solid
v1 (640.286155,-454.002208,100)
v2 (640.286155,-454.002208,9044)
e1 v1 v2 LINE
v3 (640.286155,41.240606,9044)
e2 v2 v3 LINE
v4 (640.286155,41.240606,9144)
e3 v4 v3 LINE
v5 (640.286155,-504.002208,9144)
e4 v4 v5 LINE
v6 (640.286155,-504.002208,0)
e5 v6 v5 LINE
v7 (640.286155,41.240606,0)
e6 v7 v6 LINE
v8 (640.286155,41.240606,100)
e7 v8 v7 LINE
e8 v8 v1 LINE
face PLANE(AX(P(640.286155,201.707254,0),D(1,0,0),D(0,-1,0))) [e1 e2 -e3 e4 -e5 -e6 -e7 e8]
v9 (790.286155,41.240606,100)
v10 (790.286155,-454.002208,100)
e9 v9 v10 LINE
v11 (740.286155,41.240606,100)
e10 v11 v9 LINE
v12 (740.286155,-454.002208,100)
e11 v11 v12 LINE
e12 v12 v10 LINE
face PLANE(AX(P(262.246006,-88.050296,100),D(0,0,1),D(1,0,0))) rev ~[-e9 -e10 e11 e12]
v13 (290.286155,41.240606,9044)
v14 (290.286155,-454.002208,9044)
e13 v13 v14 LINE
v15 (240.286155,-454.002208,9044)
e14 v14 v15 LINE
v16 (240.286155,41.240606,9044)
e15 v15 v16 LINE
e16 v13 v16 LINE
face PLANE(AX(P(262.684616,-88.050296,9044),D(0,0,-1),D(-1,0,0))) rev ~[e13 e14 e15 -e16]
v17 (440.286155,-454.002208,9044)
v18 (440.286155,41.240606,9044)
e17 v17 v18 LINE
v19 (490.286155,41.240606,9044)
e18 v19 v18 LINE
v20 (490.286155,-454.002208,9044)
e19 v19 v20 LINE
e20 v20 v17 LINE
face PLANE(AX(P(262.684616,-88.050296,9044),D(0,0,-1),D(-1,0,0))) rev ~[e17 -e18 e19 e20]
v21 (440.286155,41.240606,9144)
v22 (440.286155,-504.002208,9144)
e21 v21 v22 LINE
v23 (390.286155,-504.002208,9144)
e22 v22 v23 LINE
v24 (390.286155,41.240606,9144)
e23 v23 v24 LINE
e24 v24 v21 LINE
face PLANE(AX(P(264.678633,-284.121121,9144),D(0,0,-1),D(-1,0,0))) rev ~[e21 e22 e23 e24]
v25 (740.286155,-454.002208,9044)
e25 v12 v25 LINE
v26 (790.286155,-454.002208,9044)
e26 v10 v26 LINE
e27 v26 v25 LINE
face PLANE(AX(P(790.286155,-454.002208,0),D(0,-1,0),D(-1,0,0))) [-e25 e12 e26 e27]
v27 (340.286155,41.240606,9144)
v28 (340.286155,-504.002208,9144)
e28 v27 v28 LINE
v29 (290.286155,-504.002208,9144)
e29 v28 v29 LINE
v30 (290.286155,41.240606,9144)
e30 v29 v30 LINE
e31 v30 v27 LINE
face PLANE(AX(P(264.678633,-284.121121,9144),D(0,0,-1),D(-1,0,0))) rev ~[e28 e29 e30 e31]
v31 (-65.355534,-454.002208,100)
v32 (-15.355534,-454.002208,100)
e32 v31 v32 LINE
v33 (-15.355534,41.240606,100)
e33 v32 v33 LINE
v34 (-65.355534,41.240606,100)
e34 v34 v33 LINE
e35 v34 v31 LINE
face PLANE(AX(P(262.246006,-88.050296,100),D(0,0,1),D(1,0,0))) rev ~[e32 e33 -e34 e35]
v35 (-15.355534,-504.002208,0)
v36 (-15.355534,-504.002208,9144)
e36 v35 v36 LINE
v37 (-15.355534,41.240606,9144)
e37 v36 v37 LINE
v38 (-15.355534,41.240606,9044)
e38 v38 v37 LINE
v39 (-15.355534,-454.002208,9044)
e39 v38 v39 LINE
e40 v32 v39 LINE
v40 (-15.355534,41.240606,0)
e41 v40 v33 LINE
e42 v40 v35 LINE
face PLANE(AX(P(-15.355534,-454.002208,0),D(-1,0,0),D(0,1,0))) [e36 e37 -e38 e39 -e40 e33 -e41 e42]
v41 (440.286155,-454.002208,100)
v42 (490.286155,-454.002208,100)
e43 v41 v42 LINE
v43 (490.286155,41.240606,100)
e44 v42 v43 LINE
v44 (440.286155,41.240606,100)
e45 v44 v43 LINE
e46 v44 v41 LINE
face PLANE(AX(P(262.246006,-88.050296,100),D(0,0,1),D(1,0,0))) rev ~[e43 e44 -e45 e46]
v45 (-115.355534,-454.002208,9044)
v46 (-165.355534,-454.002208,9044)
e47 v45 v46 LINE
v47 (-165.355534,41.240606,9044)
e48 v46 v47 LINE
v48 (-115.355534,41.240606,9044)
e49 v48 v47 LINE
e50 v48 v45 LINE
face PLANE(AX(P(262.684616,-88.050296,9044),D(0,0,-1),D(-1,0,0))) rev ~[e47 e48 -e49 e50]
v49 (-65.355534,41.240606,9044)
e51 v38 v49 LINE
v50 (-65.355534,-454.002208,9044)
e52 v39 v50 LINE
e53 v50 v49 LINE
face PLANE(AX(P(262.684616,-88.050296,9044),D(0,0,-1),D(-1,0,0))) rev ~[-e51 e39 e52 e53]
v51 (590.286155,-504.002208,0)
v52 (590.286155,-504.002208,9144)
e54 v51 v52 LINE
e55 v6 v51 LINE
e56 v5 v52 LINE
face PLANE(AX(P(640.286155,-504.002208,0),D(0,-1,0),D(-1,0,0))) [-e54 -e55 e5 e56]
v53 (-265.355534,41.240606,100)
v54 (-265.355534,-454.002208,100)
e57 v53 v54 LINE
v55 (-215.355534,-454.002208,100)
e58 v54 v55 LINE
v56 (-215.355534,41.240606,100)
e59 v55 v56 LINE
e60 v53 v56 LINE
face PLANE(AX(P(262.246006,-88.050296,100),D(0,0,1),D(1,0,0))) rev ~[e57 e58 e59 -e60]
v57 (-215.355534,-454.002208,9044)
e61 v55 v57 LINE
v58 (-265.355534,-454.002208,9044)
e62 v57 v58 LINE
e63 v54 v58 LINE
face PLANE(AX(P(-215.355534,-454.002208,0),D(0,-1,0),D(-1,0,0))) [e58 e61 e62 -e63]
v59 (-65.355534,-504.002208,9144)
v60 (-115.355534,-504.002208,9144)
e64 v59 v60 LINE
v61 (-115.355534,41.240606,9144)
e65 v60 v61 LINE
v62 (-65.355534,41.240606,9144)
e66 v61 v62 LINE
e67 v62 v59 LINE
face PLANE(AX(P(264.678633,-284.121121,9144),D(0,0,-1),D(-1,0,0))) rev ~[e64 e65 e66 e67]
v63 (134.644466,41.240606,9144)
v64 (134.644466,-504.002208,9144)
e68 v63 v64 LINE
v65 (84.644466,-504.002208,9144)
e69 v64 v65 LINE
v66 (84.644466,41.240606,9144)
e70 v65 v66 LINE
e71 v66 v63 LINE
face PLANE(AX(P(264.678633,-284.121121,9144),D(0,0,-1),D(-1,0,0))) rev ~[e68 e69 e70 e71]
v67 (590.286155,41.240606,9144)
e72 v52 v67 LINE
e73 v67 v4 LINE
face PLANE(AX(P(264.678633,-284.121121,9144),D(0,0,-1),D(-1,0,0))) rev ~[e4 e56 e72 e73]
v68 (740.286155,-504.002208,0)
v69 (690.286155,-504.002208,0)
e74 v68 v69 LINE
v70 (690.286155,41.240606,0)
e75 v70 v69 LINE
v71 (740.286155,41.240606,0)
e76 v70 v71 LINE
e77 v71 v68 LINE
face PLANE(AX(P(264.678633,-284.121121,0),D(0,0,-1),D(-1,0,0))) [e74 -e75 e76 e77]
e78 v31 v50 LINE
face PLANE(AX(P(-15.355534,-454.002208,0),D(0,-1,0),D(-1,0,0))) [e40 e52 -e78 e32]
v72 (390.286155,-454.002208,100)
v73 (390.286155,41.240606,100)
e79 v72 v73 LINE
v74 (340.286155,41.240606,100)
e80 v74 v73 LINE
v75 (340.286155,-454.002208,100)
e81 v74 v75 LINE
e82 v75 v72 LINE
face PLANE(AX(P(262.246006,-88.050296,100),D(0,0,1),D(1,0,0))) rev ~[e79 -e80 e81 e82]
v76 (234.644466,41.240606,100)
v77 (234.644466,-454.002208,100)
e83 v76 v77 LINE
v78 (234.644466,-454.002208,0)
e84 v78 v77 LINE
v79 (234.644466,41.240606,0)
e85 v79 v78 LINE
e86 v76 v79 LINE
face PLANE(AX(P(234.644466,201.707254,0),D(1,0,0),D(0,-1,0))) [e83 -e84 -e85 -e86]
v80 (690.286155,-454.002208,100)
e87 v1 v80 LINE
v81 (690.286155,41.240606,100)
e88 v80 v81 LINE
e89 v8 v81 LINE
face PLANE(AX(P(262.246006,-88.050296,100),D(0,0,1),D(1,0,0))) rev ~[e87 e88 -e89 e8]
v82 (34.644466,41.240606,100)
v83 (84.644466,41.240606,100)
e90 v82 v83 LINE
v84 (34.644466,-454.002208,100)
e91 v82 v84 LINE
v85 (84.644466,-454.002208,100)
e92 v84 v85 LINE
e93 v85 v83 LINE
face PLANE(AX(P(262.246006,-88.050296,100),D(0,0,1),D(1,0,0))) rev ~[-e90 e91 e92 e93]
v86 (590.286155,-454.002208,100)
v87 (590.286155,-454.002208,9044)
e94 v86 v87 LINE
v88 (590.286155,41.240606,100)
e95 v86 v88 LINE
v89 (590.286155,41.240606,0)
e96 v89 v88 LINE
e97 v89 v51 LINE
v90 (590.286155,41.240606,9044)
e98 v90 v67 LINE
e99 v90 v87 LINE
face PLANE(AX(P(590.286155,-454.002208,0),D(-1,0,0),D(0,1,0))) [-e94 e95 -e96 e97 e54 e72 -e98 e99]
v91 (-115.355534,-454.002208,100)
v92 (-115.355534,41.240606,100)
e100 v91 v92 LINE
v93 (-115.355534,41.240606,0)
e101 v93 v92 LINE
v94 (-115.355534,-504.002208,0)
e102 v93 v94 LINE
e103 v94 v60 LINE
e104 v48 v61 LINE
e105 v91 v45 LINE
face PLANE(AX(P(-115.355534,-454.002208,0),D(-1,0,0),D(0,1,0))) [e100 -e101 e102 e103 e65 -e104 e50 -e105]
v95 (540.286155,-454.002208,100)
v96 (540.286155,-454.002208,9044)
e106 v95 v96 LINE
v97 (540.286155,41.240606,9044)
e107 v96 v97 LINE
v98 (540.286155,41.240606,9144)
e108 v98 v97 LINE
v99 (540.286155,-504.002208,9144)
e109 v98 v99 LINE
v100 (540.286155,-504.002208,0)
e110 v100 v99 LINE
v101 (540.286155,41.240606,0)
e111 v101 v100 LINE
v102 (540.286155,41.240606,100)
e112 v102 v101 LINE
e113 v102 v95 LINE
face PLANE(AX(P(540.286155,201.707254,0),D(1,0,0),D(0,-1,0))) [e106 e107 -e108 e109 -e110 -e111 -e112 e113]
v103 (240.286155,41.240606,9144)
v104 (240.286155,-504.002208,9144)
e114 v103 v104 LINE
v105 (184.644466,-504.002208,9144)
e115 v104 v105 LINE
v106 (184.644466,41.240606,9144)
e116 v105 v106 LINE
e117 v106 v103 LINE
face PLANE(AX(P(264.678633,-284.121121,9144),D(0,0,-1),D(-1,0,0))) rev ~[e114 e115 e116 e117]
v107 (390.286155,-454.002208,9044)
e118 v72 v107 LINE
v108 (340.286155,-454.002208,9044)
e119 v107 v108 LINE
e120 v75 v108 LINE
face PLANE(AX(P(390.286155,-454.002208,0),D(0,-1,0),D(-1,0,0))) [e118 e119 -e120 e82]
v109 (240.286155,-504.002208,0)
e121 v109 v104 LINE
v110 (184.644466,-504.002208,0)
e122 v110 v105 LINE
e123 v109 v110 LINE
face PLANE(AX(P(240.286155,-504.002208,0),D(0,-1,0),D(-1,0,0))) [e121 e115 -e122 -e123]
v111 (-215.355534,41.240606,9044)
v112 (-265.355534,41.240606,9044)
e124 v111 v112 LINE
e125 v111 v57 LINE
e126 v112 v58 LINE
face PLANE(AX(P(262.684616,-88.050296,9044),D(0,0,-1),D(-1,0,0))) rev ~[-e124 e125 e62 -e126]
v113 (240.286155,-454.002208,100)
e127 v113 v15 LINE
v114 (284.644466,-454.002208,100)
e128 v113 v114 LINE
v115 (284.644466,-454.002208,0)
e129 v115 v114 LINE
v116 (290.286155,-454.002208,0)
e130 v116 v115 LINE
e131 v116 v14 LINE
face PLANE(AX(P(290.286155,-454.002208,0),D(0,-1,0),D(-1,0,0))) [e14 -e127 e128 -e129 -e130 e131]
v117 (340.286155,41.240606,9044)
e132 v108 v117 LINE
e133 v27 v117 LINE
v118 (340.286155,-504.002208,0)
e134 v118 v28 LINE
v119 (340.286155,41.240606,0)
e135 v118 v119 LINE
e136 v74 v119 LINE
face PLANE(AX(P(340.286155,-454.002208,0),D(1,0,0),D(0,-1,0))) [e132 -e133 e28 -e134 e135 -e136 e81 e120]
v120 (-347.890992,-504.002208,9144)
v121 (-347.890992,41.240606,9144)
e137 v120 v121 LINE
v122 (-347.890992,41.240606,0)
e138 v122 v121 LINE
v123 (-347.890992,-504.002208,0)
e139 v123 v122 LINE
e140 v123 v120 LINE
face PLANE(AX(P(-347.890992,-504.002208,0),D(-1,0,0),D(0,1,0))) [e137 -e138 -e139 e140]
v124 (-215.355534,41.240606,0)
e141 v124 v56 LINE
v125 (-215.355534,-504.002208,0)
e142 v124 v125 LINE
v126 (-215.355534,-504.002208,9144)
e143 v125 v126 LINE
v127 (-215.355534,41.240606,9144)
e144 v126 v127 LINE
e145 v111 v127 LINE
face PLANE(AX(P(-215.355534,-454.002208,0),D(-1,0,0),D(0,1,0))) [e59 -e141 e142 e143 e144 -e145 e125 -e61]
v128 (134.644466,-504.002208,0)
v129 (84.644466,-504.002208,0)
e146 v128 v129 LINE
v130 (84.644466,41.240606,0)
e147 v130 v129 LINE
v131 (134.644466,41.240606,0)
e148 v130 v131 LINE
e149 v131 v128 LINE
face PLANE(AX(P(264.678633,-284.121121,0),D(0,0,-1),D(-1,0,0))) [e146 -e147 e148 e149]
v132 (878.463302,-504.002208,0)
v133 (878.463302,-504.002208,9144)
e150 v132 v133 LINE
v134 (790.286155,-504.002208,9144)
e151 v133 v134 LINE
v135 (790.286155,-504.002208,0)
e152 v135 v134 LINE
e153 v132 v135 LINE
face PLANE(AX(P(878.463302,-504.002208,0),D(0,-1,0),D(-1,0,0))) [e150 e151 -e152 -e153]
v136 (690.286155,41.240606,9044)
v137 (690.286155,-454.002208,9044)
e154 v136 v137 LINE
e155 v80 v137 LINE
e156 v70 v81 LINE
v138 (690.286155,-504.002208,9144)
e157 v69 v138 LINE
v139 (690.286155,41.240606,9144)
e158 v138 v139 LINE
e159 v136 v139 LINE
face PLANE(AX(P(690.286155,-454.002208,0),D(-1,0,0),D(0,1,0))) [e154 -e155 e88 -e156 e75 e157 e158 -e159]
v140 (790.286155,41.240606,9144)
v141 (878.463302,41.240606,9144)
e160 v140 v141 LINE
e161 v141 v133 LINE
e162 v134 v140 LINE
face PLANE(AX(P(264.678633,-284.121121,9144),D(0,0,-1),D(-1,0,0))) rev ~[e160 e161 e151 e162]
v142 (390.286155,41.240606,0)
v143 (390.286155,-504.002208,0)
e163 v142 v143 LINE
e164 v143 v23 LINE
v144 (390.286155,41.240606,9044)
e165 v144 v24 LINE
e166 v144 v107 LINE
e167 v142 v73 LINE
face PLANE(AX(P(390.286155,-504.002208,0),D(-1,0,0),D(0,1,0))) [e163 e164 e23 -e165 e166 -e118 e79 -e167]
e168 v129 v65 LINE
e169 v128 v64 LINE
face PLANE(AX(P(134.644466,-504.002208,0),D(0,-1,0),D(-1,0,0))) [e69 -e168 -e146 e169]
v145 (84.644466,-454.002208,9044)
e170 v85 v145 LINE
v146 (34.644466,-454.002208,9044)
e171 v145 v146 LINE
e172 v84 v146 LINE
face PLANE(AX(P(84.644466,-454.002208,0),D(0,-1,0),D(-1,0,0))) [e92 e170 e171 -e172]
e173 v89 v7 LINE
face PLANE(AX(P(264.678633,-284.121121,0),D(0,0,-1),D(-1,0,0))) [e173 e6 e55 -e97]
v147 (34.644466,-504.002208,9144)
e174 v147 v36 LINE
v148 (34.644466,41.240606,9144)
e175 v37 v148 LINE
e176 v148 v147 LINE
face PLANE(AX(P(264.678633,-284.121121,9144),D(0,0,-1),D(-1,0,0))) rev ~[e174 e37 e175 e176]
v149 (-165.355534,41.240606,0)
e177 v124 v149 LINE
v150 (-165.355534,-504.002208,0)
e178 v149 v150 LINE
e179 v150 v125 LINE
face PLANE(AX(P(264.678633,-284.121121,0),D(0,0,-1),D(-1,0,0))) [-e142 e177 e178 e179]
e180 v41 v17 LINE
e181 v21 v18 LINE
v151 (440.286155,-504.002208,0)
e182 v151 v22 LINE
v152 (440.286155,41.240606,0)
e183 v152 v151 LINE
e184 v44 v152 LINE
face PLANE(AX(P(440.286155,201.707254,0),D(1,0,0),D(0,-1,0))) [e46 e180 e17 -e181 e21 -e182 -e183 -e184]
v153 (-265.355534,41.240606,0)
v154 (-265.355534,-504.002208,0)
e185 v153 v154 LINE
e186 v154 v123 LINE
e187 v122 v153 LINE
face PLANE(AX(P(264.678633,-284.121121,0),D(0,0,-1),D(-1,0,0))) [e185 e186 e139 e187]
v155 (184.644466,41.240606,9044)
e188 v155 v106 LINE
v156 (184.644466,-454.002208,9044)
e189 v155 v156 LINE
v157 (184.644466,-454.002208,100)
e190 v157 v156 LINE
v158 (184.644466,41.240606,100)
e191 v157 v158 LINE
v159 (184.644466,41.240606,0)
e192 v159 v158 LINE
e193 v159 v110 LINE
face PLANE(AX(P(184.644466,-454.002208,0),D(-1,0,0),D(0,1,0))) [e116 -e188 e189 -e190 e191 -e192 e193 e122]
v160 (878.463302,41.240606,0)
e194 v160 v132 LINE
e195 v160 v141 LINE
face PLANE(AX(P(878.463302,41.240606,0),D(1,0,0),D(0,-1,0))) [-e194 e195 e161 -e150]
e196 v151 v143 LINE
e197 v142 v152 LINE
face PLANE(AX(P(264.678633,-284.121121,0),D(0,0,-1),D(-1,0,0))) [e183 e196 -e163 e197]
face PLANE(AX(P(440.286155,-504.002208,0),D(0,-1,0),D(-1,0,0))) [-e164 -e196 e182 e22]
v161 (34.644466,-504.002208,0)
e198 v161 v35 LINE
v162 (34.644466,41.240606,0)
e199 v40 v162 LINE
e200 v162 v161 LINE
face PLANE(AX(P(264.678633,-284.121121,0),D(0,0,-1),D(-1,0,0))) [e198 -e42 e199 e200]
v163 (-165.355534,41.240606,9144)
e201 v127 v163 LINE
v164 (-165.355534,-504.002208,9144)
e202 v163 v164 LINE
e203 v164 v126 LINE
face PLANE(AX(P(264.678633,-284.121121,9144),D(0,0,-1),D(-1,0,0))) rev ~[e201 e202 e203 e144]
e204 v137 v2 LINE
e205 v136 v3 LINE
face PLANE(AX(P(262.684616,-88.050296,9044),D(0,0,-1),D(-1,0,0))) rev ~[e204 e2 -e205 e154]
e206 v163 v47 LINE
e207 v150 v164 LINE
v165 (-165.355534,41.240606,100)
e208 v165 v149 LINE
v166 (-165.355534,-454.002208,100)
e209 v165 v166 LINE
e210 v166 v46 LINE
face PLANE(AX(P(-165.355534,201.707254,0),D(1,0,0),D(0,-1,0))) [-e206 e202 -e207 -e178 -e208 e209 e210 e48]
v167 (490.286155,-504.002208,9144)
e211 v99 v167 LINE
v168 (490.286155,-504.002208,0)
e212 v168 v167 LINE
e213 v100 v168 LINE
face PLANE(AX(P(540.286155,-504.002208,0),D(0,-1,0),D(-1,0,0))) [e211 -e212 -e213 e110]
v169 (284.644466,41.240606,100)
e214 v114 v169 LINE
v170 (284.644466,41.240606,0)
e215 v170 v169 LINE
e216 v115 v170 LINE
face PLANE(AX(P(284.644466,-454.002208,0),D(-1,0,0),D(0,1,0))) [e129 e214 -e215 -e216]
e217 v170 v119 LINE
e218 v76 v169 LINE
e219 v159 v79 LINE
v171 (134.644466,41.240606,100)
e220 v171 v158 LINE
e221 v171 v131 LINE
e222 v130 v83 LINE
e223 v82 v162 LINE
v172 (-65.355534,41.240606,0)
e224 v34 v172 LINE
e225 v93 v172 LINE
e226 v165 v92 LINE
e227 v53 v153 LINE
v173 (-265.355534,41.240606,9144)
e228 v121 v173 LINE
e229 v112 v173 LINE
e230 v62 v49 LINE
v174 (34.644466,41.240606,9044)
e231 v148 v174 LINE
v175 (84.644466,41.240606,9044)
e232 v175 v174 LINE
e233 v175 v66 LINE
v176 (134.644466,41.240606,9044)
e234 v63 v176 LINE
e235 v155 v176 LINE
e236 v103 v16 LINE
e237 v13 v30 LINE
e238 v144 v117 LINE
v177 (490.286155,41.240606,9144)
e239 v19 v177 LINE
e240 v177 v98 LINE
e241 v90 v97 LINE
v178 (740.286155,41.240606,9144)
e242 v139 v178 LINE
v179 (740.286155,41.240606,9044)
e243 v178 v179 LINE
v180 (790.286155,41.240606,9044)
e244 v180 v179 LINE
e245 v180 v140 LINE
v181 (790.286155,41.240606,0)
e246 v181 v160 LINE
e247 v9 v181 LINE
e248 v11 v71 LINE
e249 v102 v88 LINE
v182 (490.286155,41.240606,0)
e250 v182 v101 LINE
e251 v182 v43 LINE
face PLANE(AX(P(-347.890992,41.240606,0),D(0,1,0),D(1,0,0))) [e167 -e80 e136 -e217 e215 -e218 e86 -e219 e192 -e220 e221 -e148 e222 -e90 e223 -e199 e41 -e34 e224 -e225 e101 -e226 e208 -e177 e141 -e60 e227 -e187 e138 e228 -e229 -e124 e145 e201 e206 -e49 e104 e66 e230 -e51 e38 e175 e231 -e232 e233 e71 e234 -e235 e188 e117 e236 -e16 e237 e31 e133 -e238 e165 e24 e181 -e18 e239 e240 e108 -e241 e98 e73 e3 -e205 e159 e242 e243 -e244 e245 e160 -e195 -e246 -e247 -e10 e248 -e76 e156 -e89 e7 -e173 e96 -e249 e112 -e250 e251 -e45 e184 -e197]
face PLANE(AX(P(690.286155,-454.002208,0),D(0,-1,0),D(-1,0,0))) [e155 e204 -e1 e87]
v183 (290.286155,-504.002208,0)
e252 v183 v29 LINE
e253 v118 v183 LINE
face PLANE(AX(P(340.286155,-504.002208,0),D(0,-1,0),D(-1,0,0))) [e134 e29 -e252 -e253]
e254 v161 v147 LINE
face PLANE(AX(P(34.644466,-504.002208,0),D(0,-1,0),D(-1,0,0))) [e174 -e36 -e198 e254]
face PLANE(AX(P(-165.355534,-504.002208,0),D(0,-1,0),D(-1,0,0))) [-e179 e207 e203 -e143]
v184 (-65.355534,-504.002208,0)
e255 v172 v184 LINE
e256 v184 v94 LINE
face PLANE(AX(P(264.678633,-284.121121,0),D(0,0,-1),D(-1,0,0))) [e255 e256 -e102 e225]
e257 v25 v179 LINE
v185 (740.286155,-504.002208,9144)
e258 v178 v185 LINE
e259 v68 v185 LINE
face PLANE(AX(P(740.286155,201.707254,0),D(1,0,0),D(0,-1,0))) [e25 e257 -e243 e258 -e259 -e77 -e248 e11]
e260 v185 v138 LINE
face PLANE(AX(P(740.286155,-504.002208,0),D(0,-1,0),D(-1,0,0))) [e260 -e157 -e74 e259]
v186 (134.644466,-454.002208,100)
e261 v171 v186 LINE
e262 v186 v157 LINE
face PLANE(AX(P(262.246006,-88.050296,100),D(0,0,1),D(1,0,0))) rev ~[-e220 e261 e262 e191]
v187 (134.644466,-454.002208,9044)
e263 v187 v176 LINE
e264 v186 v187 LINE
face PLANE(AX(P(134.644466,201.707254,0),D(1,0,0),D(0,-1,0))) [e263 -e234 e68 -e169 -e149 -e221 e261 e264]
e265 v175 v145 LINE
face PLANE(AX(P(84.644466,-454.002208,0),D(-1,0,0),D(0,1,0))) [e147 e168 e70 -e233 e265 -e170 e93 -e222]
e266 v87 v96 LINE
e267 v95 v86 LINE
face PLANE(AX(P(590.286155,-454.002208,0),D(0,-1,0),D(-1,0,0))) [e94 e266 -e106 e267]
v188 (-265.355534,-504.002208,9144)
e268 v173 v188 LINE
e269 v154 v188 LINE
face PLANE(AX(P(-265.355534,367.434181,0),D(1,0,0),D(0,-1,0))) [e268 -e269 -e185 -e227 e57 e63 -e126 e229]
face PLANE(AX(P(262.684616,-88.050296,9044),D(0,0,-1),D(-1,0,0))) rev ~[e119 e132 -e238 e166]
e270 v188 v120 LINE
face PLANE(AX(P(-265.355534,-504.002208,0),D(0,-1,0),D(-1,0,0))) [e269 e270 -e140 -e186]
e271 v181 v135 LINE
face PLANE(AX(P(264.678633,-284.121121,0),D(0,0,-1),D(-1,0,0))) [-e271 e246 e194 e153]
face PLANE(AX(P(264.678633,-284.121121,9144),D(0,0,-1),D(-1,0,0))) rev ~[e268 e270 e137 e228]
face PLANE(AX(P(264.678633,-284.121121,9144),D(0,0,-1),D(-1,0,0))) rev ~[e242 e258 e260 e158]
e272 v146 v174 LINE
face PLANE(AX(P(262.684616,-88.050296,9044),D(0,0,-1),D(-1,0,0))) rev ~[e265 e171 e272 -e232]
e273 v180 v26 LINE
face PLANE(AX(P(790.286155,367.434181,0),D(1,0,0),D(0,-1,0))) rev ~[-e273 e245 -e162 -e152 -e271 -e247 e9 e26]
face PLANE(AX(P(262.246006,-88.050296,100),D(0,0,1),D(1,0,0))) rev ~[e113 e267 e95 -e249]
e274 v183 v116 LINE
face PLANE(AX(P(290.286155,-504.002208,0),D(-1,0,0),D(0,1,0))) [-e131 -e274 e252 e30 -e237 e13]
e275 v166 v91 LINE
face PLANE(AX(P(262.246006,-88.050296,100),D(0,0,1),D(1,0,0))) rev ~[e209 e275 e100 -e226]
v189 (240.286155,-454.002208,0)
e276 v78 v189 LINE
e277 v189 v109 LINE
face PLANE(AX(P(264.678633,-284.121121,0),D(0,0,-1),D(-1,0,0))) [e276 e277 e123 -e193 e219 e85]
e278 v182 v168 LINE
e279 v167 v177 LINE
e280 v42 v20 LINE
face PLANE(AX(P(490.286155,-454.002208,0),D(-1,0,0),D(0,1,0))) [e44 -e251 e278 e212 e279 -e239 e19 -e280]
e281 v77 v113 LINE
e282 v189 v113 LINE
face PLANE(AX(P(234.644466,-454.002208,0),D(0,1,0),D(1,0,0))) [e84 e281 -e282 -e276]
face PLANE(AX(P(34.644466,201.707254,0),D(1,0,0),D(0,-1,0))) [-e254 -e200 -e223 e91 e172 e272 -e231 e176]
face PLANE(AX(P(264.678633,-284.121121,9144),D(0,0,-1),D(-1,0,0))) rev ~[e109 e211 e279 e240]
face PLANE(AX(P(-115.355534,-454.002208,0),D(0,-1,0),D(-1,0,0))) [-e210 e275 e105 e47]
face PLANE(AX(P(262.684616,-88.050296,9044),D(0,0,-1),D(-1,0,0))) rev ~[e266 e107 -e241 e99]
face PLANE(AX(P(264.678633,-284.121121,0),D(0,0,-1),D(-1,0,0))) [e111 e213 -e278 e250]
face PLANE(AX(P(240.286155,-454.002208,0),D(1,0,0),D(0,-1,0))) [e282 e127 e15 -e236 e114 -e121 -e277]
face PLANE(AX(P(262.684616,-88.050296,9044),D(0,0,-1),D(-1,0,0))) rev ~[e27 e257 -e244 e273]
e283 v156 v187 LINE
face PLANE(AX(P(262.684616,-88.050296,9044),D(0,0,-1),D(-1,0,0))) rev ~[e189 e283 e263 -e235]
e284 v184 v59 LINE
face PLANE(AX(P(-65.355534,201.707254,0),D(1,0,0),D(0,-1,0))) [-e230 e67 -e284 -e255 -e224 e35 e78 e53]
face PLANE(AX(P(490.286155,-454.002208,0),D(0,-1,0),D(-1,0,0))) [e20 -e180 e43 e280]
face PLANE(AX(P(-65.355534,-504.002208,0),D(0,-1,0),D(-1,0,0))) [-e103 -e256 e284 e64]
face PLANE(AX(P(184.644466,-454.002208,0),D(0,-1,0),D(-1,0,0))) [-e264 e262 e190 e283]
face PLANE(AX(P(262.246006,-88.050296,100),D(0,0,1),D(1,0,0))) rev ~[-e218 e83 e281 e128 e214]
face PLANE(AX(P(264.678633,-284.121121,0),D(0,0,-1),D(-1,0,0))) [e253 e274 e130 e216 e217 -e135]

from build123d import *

# Parameters (mm, degrees)
BOSS_EXTRUDE1_DEPTH = 9144
CUT_EXTRUDE1_DEPTH  = 100
CUT_EXTRUDE2_DEPTH  = 100


with BuildPart() as part:
    # Sketch1 → Boss-Extrude1 (new body)
    with BuildSketch(Plane.XY):
        Polygon((390.286155145, -454.00220839), (340.286155145, -454.00220839), (340.286155145, -504.00220839), (290.286155145, -504.00220839), (290.286155145, -454.00220839), (240.286155145, -454.00220839), (240.286155145, -504.00220839), (184.64446635, -504.00220839), (184.64446635, -454.00220839), (134.64446635, -454.00220839), (134.64446635, -504.00220839), (84.64446635, -504.00220839), (84.64446635, -454.00220839), (34.64446635, -454.00220839), (34.64446635, -504.00220839), (-15.35553365, -504.00220839), (-15.35553365, -454.00220839), (-65.35553365, -454.00220839), (-65.35553365, -504.00220839), (-115.35553365, -504.00220839), (-115.35553365, -454.00220839), (-165.35553365, -454.00220839), (-165.35553365, -504.00220839), (-215.35553365, -504.00220839), (-215.35553365, -454.00220839), (-265.35553365, -454.00220839), (-265.35553365, -504.00220839), (-347.890991568, -504.00220839), (-347.890991568, 41.240606266), (878.463301858, 41.240606266), (878.463301858, -504.00220839), (790.286155145, -504.00220839), (790.286155145, -454.00220839), (740.286155145, -454.00220839), (740.286155145, -504.00220839), (690.286155145, -504.00220839), (690.286155145, -454.00220839), (640.286155145, -454.00220839), (640.286155145, -504.00220839), (590.286155145, -504.00220839), (590.286155145, -454.00220839), (540.286155145, -454.00220839), (540.286155145, -504.00220839), (490.286155145, -504.00220839), (490.286155145, -454.00220839), (440.286155145, -454.00220839), (440.286155145, -504.00220839), (390.286155145, -504.00220839), align=None)
    extrude(amount=BOSS_EXTRUDE1_DEPTH)

    # Sketch2 → Cut-Extrude1 (cut)
    with BuildSketch(Plane.XY.offset(9144)):
        Polygon((-265.35553365, -454.00220839), (-265.35553365, 201.707253547), (-265.35553365, 367.434180801), (790.286155145, 367.434180801), (790.286155145, -454.00220839), (740.286155145, -454.00220839), (740.286155145, 201.707253547), (690.286155145, 201.707253547), (690.286155145, -454.00220839), (640.286155145, -454.00220839), (640.286155145, 201.707253547), (590.286155145, 201.707253547), (590.286155145, -454.00220839), (540.286155145, -454.00220839), (540.286155145, 201.707253547), (490.286155145, 201.707253547), (490.286155145, -454.00220839), (440.286155145, -454.00220839), (440.286155145, 201.707253547), (390.286155145, 201.707253547), (390.286155145, -454.00220839), (340.286155145, -454.00220839), (340.286155145, 201.707253547), (290.286155145, 201.707253547), (290.286155145, -454.00220839), (240.286155145, -454.00220839), (240.286155145, 201.707253547), (184.64446635, 201.707253547), (184.64446635, -454.00220839), (134.64446635, -454.00220839), (134.64446635, 201.707253547), (84.64446635, 201.707253547), (84.64446635, -454.00220839), (34.64446635, -454.00220839), (34.64446635, 201.707253547), (-15.35553365, 201.707253547), (-15.35553365, -454.00220839), (-65.35553365, -454.00220839), (-65.35553365, 201.707253547), (-115.35553365, 201.707253547), (-115.35553365, -454.00220839), (-165.35553365, -454.00220839), (-165.35553365, 201.707253547), (-215.35553365, 201.707253547), (-215.35553365, -454.00220839), align=None)
    extrude(amount=-CUT_EXTRUDE1_DEPTH, mode=Mode.SUBTRACT)

    # Sketch3 → Cut-Extrude2 (cut)
    with BuildSketch(Plane(origin=(0, 0, 0), x_dir=(-1, 0, 0), z_dir=(0, 0, -1))):
        Polygon((-790.286155145, -454.00220839), (-790.286155145, 201.707253547), (-790.286155145, 367.434180801), (265.35553365, 367.434180801), (265.35553365, -454.00220839), (215.35553365, -454.00220839), (215.35553365, 201.707253547), (165.35553365, 201.707253547), (165.35553365, -454.00220839), (115.35553365, -454.00220839), (115.35553365, 201.707253547), (65.35553365, 201.707253547), (65.35553365, -454.00220839), (15.35553365, -454.00220839), (15.35553365, 201.707253547), (-34.64446635, 201.707253547), (-34.64446635, -454.00220839), (-84.64446635, -454.00220839), (-84.64446635, 201.707253547), (-134.64446635, 201.707253547), (-134.64446635, -454.00220839), (-184.64446635, -454.00220839), (-184.64446635, 201.707253547), (-234.64446635, 201.707253547), (-234.64446635, -454.00220839), (-284.64446635, -454.00220839), (-284.64446635, 201.707253547), (-340.286155145, 201.707253547), (-340.286155145, -454.00220839), (-390.286155145, -454.00220839), (-390.286155145, 201.707253547), (-440.286155145, 201.707253547), (-440.286155145, -454.00220839), (-490.286155145, -454.00220839), (-490.286155145, 201.707253547), (-540.286155145, 201.707253547), (-540.286155145, -454.00220839), (-590.286155145, -454.00220839), (-590.286155145, 201.707253547), (-640.286155145, 201.707253547), (-640.286155145, -454.00220839), (-690.286155145, -454.00220839), (-690.286155145, 201.707253547), (-740.286155145, 201.707253547), (-740.286155145, -454.00220839), align=None)
    extrude(amount=-CUT_EXTRUDE2_DEPTH, mode=Mode.SUBTRACT)


solid = part.part
